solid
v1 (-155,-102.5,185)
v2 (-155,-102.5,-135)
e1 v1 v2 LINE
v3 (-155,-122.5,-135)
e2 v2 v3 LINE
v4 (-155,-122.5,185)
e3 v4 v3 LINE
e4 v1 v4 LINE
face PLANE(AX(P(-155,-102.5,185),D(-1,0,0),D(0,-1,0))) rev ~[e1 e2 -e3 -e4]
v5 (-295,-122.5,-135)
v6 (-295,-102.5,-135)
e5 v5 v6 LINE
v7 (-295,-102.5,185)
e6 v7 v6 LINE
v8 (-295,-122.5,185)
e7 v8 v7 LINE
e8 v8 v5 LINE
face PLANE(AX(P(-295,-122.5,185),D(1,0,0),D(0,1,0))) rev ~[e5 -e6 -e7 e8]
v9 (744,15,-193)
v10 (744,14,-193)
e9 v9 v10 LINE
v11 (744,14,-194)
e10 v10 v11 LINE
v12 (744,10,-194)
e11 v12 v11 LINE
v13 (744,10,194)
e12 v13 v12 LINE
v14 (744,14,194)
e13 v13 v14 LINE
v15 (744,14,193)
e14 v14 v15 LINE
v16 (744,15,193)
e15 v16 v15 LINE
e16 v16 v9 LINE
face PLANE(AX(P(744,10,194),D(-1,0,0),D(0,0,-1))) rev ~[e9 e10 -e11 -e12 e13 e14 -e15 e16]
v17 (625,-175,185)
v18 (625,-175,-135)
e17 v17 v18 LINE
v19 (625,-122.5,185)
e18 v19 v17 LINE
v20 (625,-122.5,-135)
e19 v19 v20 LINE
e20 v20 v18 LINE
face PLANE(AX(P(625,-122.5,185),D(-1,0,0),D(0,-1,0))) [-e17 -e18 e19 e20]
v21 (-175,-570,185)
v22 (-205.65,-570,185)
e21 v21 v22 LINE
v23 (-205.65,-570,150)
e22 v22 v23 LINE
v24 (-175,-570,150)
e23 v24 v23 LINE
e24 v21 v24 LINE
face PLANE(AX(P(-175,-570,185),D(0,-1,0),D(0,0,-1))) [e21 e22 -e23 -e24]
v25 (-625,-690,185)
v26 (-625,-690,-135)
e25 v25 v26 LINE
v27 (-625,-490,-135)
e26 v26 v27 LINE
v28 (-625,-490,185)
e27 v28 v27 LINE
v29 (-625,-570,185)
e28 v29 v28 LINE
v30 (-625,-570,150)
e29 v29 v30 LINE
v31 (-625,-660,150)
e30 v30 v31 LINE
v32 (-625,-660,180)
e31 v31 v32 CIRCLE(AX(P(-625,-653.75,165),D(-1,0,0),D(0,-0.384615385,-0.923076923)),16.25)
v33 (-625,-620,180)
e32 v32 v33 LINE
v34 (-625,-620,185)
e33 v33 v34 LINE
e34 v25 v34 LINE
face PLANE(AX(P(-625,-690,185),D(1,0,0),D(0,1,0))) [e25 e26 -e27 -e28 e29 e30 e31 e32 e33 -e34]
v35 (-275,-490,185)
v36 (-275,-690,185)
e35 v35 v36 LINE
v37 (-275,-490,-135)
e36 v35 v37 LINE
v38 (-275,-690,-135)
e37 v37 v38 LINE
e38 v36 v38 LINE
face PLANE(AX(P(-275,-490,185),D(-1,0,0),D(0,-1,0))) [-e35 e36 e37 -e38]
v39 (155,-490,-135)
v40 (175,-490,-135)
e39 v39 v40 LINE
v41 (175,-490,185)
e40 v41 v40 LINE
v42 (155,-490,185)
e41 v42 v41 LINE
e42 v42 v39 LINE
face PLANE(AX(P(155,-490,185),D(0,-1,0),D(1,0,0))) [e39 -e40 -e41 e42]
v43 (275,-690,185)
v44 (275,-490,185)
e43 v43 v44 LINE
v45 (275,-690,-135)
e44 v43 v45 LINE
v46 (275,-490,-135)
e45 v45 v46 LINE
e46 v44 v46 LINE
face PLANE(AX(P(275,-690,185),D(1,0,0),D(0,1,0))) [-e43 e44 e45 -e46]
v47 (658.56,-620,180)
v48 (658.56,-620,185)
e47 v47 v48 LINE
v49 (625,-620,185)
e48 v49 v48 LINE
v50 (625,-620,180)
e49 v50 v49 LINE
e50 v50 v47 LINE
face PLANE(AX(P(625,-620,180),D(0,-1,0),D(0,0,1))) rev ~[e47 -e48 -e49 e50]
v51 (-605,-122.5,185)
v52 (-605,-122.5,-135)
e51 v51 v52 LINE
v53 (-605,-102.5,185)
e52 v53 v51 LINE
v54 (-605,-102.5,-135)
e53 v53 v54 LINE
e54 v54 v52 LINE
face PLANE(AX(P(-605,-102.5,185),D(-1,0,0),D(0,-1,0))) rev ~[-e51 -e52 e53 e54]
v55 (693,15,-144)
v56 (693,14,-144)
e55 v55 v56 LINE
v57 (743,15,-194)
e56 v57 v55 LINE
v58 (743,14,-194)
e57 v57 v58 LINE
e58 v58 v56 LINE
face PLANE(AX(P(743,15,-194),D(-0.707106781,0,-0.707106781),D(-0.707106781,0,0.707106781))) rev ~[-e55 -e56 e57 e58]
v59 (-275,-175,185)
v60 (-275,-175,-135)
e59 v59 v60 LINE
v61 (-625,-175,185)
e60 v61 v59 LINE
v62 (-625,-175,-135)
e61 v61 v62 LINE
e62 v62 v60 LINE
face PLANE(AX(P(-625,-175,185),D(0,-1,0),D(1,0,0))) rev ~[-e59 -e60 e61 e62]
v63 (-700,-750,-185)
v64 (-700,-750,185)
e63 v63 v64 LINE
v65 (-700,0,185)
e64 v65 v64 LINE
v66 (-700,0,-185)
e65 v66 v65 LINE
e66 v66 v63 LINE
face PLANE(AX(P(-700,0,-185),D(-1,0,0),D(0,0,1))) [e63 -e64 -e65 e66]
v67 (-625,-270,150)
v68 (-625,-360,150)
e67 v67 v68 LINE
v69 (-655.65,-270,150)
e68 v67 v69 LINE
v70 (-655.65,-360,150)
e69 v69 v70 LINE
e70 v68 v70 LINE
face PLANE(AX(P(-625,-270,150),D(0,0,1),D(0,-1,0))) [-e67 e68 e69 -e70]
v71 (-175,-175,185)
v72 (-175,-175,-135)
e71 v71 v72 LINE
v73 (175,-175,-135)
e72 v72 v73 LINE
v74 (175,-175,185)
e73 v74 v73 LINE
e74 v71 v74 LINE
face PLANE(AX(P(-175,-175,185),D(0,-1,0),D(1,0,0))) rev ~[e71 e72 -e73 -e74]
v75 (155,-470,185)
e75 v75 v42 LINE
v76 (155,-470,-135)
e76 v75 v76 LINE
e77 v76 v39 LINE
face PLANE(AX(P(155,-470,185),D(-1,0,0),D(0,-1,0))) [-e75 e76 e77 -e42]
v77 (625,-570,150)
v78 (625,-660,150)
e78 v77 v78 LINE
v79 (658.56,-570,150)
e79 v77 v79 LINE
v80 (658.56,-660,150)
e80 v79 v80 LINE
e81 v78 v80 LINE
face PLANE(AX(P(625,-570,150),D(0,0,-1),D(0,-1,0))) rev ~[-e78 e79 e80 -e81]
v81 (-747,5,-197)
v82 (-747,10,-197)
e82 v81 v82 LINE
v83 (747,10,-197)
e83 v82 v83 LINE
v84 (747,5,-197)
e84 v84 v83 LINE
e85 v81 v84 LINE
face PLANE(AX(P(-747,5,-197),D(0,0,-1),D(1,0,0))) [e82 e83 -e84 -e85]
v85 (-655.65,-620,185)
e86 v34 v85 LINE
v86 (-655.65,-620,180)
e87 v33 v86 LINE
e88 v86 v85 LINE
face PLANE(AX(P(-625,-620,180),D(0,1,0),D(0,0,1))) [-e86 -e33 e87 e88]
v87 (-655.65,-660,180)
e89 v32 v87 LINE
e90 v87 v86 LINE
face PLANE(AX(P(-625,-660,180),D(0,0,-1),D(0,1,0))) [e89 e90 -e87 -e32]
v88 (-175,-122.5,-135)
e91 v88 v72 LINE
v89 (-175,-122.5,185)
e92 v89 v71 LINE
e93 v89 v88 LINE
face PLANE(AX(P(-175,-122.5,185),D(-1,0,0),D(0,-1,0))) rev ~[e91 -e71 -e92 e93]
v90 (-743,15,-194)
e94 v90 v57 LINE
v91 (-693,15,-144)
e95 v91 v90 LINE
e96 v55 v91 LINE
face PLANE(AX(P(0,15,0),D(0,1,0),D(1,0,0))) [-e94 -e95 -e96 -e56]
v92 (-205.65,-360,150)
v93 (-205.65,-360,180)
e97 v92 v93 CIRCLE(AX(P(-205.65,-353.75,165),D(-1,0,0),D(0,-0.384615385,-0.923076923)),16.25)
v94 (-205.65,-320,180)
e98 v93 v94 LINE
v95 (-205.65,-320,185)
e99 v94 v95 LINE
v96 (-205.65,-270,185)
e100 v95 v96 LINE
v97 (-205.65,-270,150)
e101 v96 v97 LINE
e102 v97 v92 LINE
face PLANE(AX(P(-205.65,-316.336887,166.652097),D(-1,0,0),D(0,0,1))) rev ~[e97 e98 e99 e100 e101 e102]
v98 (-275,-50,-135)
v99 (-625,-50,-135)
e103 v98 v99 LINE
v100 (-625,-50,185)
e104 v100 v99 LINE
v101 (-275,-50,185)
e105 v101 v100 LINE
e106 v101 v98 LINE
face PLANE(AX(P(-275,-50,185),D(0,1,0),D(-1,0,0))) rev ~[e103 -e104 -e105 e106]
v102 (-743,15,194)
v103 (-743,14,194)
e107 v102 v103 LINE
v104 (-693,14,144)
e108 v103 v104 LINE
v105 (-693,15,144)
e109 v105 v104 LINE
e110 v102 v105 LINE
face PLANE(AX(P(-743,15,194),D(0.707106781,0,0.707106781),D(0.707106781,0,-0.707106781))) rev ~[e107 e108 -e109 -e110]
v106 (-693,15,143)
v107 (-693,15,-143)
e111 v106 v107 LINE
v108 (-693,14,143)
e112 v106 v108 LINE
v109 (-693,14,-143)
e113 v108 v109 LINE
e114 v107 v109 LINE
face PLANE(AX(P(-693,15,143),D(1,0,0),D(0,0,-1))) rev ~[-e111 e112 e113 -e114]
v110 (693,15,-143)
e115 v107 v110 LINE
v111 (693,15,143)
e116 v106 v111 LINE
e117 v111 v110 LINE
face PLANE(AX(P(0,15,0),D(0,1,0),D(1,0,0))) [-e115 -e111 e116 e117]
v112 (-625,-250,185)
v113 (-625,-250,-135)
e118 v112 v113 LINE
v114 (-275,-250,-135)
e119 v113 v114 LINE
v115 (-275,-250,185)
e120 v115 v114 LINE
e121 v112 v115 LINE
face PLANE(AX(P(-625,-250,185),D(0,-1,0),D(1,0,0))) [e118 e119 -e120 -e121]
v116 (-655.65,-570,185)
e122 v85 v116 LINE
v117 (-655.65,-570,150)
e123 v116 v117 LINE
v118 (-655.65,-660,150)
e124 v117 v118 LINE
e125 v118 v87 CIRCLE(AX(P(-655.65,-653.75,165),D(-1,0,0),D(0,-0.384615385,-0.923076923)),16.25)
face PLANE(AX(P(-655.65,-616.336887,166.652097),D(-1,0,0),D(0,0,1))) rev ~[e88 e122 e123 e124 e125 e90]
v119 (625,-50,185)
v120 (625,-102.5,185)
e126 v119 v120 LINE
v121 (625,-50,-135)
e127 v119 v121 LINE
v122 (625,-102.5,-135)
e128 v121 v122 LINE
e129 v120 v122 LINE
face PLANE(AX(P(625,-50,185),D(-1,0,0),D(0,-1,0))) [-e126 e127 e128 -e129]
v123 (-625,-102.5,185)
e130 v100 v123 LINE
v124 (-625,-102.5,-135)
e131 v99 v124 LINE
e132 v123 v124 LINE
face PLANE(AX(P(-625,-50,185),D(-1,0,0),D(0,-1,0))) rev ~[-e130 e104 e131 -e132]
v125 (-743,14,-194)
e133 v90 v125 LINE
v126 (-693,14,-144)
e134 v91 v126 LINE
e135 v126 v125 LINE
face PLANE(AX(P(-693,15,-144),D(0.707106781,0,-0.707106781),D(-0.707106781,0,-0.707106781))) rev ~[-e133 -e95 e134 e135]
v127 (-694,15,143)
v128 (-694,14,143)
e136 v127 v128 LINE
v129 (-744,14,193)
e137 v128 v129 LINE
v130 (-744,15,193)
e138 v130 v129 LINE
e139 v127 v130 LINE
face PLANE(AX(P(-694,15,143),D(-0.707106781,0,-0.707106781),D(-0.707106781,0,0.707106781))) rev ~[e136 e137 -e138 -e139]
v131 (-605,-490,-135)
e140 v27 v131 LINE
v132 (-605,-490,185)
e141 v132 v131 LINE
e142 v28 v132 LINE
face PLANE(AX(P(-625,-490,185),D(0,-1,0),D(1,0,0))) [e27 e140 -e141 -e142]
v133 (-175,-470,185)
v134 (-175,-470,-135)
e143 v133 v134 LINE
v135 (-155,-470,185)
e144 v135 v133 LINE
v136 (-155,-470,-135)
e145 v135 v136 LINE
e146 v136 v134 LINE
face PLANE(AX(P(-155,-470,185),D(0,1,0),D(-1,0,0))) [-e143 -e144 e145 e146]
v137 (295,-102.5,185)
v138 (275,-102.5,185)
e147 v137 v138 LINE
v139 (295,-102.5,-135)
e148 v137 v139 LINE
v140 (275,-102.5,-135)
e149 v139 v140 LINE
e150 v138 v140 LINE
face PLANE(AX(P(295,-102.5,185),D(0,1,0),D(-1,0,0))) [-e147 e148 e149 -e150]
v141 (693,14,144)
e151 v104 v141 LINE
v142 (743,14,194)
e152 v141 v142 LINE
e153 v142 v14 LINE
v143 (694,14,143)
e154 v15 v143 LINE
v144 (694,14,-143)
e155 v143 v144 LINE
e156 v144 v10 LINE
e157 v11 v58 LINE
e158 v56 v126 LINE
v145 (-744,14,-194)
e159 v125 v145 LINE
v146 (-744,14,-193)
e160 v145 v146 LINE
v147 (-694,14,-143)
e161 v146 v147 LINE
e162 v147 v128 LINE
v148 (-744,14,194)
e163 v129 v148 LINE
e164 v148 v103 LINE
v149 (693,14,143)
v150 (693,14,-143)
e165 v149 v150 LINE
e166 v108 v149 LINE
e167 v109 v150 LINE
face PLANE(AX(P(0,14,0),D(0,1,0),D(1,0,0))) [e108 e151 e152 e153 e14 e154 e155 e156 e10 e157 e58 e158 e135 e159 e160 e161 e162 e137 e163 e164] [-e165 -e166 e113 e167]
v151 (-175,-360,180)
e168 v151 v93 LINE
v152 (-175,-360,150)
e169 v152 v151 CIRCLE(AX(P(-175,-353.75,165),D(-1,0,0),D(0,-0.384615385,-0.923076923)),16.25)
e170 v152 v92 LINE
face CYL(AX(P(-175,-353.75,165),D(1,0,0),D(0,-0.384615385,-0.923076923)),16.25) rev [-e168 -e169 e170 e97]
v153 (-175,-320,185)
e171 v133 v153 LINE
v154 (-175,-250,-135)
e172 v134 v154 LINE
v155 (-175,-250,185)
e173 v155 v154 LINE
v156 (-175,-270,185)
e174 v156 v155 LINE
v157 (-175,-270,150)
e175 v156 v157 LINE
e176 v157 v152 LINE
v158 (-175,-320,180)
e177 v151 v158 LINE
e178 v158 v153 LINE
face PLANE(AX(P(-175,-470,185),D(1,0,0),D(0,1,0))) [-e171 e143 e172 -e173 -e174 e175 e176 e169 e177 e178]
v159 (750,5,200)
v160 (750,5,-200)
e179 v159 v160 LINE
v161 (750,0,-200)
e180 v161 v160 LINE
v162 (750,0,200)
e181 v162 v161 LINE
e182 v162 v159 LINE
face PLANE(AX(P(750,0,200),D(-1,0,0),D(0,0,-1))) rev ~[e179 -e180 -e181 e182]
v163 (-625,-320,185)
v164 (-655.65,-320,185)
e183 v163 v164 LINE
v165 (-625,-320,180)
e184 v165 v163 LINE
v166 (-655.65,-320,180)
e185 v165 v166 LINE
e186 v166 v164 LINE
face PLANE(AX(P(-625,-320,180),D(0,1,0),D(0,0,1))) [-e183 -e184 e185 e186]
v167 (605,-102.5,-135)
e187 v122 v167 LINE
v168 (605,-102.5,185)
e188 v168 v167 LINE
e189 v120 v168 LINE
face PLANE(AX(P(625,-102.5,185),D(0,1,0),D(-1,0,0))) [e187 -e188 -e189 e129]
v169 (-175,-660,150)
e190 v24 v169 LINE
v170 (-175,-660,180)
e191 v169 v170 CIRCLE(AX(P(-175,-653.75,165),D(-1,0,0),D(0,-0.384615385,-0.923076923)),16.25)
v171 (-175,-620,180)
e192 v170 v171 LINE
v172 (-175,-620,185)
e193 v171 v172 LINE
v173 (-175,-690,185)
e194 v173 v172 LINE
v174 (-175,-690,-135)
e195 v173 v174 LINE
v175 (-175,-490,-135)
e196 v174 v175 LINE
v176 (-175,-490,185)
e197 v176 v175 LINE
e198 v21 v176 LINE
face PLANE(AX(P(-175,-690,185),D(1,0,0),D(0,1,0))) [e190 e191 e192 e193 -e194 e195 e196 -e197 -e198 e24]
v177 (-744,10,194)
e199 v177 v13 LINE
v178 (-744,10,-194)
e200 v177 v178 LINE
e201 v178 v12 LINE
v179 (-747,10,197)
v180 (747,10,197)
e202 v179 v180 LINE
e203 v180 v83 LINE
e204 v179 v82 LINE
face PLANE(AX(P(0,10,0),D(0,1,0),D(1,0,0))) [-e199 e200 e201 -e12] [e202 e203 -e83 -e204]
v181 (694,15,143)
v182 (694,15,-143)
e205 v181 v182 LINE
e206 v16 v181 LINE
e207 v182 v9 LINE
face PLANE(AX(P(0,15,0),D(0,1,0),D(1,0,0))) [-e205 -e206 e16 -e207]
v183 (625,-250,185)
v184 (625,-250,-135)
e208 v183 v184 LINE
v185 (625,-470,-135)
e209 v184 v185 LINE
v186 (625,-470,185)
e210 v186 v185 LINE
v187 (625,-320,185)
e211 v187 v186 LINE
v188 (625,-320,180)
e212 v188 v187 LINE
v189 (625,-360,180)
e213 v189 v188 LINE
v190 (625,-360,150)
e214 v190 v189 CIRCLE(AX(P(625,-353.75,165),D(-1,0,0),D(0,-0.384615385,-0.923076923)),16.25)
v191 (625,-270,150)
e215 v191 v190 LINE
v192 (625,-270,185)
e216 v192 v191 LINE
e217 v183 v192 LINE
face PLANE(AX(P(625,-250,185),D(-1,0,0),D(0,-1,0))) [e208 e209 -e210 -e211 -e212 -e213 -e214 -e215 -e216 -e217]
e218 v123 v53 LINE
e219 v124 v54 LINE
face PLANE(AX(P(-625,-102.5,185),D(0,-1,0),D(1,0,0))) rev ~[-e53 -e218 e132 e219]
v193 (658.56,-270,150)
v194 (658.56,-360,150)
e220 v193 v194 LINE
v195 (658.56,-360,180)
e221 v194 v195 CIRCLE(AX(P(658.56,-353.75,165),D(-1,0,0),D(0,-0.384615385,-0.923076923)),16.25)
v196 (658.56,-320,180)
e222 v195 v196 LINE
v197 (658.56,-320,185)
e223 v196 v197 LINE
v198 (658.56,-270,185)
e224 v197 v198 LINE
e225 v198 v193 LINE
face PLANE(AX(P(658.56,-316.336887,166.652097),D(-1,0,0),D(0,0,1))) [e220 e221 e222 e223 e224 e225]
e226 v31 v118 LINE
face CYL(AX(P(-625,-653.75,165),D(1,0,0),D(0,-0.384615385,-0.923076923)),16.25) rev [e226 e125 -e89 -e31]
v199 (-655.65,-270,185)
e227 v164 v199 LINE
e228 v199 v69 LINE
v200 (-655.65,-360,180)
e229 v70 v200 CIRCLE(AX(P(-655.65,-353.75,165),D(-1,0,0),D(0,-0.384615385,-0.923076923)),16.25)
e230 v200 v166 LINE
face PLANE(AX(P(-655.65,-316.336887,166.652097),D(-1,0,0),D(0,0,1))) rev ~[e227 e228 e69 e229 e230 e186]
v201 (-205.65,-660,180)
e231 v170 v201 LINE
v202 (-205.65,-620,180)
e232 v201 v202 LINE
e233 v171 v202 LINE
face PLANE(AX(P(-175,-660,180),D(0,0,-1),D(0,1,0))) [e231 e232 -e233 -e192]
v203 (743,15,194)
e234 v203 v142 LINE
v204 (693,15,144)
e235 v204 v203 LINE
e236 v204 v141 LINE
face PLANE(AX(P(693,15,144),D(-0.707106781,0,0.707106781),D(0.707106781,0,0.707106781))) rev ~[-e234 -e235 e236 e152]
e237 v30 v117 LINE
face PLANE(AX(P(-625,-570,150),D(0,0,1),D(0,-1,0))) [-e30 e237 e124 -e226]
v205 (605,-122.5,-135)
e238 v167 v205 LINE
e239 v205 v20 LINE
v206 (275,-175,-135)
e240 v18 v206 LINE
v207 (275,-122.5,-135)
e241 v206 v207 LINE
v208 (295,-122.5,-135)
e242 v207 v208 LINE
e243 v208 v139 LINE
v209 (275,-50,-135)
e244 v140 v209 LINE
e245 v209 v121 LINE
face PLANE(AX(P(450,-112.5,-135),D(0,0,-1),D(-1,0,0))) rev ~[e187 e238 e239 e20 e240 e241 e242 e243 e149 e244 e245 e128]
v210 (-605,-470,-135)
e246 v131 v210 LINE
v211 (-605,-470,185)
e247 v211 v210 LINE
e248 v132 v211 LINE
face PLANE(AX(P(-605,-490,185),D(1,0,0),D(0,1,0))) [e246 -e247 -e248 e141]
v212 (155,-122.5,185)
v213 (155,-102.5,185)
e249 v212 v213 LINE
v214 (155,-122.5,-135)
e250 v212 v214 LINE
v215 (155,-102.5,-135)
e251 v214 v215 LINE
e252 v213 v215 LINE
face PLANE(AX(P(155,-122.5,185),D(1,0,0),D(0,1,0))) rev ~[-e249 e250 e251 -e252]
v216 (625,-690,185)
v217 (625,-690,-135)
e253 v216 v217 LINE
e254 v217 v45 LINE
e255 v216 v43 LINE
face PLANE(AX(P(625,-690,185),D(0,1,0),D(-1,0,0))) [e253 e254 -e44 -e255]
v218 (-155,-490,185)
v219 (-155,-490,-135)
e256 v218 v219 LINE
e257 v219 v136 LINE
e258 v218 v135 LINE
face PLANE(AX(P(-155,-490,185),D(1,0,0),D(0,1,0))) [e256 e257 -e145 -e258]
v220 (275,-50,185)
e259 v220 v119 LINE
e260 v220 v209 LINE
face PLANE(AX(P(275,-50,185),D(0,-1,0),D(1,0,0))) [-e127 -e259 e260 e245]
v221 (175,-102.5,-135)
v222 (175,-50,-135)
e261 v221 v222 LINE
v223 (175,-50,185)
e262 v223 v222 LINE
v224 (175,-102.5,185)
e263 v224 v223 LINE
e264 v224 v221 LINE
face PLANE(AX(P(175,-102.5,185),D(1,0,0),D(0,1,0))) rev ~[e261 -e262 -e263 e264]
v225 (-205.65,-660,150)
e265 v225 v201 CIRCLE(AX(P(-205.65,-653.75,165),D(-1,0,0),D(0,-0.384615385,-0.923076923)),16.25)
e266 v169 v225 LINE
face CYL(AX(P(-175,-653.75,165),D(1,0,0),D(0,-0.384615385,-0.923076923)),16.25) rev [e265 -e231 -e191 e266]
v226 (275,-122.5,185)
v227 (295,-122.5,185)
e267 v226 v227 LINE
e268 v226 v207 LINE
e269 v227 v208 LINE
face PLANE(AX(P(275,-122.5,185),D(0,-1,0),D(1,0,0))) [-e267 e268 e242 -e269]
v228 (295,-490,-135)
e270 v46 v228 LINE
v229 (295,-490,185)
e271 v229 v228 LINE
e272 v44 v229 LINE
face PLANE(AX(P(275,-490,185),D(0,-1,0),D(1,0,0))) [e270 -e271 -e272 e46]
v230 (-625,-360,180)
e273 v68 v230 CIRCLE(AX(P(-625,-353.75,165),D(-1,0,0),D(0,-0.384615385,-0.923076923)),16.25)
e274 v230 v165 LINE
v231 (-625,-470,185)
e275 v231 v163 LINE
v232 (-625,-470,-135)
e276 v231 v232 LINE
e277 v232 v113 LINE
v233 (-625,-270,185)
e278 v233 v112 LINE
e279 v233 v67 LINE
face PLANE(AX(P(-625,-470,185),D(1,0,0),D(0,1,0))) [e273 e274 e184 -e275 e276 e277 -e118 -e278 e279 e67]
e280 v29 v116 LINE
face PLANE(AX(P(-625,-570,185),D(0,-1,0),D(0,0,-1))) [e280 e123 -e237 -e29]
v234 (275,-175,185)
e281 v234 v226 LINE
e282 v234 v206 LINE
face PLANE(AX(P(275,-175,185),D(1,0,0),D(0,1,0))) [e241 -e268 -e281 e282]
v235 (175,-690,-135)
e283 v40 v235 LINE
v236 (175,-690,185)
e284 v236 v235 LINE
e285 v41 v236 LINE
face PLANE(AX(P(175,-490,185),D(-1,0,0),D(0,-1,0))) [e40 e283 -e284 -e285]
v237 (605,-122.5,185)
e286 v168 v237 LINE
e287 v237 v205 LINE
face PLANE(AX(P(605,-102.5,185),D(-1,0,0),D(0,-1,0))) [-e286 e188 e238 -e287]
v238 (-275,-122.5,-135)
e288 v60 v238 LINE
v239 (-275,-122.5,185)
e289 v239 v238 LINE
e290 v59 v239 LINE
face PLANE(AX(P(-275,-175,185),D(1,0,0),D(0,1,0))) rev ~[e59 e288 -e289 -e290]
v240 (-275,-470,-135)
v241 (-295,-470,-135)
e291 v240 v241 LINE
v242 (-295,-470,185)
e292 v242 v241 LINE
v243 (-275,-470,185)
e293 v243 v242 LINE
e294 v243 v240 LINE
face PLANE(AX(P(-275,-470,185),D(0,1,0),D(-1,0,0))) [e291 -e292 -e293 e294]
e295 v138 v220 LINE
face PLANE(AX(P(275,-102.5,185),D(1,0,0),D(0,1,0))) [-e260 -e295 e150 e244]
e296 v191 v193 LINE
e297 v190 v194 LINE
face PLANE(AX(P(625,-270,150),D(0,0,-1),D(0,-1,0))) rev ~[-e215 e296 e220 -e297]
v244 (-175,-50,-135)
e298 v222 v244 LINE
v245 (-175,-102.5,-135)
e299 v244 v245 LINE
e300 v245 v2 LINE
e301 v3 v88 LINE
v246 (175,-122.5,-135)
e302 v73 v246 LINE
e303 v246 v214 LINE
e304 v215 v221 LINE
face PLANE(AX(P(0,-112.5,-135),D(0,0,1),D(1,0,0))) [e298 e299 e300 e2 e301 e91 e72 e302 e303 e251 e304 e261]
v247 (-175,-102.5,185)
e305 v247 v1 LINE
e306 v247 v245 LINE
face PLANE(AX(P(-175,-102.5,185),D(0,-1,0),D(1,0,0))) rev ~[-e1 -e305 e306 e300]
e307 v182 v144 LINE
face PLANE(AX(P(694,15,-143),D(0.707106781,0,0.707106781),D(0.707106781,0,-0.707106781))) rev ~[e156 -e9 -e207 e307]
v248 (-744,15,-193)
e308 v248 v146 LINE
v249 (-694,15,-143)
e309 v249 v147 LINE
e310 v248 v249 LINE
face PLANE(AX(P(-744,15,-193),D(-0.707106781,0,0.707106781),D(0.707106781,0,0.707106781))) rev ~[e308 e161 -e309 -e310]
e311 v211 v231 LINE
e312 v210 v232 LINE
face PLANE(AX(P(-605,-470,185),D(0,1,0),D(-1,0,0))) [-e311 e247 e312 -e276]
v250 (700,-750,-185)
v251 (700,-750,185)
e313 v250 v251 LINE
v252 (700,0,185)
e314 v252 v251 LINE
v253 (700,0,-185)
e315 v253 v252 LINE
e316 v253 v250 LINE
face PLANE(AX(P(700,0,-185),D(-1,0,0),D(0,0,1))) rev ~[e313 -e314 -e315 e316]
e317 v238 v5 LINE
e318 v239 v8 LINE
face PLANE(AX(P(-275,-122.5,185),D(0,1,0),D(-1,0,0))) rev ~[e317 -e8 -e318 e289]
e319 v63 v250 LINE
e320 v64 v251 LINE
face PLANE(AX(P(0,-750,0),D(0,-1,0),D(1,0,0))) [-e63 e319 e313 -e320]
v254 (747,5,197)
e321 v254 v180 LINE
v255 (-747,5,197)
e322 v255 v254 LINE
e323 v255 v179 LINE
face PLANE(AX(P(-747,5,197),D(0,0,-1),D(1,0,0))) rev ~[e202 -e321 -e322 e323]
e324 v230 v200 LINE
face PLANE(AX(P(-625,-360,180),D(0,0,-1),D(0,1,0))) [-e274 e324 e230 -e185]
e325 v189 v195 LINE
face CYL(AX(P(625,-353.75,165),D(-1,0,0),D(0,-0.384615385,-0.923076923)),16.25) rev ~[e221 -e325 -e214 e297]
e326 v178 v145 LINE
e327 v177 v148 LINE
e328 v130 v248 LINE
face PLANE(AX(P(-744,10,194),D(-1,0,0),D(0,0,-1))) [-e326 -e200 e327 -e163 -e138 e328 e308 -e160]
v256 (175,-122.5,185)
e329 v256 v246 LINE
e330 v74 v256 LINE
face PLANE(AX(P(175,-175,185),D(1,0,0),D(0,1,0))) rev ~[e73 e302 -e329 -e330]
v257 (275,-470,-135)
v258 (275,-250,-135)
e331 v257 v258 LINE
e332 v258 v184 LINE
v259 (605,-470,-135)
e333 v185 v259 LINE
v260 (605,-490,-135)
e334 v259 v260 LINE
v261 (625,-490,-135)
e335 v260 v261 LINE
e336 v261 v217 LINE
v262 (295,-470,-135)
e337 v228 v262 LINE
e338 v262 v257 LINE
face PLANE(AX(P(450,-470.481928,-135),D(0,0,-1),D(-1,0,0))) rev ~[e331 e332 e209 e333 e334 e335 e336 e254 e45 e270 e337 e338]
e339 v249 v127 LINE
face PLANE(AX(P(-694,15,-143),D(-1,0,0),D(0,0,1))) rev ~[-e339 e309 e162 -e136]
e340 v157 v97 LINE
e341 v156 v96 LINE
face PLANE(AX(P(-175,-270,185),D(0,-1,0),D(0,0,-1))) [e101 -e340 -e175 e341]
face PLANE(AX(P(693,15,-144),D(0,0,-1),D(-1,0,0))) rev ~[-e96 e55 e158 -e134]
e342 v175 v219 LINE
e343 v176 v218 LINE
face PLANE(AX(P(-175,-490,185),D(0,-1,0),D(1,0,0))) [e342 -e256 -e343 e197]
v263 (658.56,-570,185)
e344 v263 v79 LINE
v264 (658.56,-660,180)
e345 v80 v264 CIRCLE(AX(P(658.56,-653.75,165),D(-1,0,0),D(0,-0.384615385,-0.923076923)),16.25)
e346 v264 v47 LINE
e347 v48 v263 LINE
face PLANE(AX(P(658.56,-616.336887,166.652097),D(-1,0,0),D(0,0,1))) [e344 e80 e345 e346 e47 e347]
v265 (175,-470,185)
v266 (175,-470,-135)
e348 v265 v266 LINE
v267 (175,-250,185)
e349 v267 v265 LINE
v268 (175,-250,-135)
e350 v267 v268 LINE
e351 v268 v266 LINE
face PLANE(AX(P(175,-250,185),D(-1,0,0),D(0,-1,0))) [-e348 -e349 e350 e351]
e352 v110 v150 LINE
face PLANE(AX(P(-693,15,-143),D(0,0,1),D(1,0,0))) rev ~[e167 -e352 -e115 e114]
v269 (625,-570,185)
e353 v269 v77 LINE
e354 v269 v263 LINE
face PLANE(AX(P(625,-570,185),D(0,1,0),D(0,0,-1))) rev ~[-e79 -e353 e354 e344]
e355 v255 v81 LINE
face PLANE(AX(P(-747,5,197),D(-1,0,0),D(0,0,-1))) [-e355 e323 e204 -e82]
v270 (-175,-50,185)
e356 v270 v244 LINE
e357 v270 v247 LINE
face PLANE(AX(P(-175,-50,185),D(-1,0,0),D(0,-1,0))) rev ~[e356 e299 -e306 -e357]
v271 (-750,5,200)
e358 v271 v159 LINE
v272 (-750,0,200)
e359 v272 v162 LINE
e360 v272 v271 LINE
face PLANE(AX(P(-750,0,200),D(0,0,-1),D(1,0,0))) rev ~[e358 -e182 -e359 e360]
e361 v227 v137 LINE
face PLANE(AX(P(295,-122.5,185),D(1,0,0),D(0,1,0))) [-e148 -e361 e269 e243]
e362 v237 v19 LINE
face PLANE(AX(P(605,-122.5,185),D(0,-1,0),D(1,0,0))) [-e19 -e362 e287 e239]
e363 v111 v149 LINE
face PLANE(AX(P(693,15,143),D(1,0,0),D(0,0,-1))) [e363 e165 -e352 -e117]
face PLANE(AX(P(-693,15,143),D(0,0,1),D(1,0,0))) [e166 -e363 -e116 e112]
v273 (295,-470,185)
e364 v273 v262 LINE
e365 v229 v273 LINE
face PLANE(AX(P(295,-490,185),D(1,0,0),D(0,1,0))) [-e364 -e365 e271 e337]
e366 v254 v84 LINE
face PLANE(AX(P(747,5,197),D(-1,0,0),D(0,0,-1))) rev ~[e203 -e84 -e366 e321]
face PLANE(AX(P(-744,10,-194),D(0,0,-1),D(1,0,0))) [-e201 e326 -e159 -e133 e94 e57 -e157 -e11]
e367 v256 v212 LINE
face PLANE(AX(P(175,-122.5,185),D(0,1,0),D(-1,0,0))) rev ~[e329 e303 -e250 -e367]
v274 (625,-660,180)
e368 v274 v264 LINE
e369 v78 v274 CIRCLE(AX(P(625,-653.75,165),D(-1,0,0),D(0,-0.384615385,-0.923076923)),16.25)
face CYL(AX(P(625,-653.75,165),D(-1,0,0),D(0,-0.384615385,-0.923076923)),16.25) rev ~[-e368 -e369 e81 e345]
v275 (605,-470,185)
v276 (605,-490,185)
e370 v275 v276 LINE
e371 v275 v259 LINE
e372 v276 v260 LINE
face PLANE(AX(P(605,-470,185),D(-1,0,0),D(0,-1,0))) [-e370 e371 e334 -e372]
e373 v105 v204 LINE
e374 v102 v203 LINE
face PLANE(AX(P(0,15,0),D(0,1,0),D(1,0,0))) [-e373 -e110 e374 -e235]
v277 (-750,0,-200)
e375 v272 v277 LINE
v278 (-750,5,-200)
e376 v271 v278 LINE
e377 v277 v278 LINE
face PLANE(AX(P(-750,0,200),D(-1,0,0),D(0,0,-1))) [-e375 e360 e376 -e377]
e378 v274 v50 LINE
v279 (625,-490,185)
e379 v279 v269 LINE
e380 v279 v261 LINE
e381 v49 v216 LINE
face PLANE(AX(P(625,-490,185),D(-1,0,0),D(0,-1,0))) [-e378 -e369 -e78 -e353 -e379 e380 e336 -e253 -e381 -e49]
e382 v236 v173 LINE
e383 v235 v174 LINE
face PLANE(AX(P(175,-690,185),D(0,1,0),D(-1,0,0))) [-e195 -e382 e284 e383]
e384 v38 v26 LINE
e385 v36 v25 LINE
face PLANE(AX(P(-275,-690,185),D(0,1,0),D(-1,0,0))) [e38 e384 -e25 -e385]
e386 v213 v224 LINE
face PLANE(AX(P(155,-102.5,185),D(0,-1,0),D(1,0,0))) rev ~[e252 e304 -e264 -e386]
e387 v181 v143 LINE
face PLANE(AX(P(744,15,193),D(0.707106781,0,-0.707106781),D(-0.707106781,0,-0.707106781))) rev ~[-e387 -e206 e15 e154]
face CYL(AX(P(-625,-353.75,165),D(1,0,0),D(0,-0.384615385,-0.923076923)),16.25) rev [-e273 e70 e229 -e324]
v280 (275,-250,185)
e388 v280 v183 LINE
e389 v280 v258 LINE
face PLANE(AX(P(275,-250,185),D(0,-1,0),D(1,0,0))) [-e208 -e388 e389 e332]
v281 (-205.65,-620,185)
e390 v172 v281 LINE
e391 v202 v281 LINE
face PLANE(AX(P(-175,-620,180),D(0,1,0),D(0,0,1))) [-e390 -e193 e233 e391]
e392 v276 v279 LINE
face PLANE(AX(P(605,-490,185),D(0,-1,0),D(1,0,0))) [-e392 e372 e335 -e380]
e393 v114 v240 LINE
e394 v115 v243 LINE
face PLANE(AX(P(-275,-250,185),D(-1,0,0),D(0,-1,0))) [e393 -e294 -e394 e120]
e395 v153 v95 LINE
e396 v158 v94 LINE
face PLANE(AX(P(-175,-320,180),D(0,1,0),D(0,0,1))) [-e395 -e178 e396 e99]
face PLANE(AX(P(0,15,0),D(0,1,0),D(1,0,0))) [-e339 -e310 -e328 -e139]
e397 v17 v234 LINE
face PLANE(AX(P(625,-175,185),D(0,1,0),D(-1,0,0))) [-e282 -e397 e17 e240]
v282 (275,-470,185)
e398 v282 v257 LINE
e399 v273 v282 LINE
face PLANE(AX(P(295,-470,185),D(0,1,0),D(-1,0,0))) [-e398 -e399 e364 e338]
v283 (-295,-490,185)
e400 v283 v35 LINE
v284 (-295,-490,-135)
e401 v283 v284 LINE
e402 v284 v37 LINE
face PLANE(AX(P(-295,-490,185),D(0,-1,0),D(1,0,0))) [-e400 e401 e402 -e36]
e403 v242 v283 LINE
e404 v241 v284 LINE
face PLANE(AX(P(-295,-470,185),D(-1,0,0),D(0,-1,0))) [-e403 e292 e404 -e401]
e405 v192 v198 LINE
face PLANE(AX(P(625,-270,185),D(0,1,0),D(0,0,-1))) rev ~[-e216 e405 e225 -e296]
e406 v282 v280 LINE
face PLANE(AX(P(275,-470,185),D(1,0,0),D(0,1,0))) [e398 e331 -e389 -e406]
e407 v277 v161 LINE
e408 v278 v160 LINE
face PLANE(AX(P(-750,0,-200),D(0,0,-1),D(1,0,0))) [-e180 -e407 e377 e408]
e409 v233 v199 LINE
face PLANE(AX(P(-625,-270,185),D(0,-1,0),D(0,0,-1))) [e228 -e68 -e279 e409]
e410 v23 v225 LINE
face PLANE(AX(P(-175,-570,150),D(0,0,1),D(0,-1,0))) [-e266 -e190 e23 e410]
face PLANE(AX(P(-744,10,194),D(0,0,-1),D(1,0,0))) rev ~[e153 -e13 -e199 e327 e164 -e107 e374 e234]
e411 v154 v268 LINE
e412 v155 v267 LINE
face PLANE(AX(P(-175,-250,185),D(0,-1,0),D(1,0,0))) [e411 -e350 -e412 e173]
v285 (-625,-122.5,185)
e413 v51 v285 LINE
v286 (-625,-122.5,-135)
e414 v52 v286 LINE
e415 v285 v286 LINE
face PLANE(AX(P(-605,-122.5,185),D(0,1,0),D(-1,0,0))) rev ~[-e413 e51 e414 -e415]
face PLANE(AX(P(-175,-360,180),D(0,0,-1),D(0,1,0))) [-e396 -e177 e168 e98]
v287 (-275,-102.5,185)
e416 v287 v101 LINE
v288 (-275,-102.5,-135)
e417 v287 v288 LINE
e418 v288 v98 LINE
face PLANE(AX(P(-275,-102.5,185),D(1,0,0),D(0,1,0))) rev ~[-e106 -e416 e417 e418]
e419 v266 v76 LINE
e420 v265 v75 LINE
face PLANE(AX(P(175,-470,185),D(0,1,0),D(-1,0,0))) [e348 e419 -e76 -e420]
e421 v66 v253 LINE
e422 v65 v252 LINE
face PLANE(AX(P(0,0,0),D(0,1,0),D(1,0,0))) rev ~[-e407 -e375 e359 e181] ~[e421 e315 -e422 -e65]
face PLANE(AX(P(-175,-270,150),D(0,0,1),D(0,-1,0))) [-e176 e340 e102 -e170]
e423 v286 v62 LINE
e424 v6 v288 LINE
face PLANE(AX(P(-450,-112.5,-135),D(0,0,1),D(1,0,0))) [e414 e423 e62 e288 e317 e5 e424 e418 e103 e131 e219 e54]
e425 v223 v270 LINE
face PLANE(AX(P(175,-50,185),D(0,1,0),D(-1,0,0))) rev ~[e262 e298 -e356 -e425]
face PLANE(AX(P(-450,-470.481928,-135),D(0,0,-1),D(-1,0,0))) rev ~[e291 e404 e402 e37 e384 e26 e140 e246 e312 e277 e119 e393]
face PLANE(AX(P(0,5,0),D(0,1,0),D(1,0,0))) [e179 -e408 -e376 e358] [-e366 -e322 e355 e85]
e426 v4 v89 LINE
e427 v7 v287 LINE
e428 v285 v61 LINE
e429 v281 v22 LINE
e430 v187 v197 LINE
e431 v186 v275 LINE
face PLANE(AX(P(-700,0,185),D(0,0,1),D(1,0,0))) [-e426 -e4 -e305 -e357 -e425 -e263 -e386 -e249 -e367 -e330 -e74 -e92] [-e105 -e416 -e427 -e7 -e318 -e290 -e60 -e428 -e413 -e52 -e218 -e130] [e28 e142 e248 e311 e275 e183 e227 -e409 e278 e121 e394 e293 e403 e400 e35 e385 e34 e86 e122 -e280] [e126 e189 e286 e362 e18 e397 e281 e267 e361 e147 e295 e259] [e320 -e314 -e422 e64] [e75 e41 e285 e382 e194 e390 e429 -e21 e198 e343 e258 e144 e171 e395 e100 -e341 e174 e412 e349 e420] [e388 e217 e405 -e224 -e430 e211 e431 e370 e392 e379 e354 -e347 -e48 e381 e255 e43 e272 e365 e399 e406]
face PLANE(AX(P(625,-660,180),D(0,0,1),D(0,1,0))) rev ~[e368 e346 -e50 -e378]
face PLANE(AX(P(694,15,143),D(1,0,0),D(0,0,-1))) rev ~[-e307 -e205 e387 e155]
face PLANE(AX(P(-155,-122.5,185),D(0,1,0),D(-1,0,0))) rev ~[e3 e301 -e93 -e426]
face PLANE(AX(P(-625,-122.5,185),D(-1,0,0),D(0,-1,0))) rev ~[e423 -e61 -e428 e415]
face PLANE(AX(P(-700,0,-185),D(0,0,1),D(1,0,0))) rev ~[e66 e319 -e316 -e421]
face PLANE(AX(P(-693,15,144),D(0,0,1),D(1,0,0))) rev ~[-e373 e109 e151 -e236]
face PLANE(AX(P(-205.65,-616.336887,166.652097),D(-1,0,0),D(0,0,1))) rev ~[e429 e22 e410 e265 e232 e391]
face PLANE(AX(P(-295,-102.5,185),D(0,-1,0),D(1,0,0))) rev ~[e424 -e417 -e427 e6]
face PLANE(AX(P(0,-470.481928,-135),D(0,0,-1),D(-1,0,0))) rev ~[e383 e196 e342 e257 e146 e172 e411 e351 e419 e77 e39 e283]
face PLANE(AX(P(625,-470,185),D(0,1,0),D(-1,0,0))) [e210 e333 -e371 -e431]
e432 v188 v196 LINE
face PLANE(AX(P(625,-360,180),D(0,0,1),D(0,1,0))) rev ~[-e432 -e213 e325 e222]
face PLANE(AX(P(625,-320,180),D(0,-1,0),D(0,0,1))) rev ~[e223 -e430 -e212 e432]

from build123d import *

# Parameters (mm, degrees)
SKETCH1_W           = 1500
SKETCH1_H           = 400
BOSS_EXTRUDE1_DEPTH = 5
SKETCH3_W           = 1494
SKETCH3_H           = 394
BOSS_EXTRUDE3_DEPTH = 5
SKETCH4_W           = 1488
SKETCH4_H           = 388
BOSS_EXTRUDE4_DEPTH = 5
SKETCH6_W           = 1386
SKETCH6_H           = 286
CUT_EXTRUDE1_DEPTH  = 1
SKETCH7_W           = 1400
SKETCH7_H           = 370
BOSS_EXTRUDE5_DEPTH = 750
CUT_EXTRUDE2_DEPTH  = 320
CUT_EXTRUDE3_DEPTH  = 30.65
CUT_EXTRUDE4_DEPTH  = 30.65
CUT_EXTRUDE6_DEPTH  = 33.56


with BuildPart() as part:
    # Sketch1 → Boss-Extrude1 (new body)
    with BuildSketch(Plane(origin=(0, 0, 0), x_dir=(1, 0, 0), z_dir=(0, 1, 0))):
        Rectangle(SKETCH1_W, SKETCH1_H)
    extrude(amount=BOSS_EXTRUDE1_DEPTH)

    # Sketch3 → Boss-Extrude3 (add)
    with BuildSketch(Plane(origin=(0, 5, 0), x_dir=(1, 0, 0), z_dir=(0, 1, 0))):
        Rectangle(SKETCH3_W, SKETCH3_H)
    extrude(amount=BOSS_EXTRUDE3_DEPTH)

    # Sketch4 → Boss-Extrude4 (add)
    with BuildSketch(Plane(origin=(0, 10, 0), x_dir=(1, 0, 0), z_dir=(0, 1, 0))):
        Rectangle(SKETCH4_W, SKETCH4_H)
    extrude(amount=BOSS_EXTRUDE4_DEPTH)

    # Sketch6 → Cut-Extrude1 (cut)
    with BuildSketch(Plane(origin=(0, 15, 0), x_dir=(1, 0, 0), z_dir=(0, 1, 0))):
        Polygon((744, 194), (743, 194), (693, 144), (-693, 144), (-743, 194), (-744, 194), (-744, 193), (-694, 143), (-694, -143), (-744, -193), (-744, -194), (-743, -194), (-693, -144), (693, -144), (743, -194), (744, -194), (744, -193), (694, -143), (694, 143), (744, 193), align=None)
        Rectangle(SKETCH6_W, SKETCH6_H, mode=Mode.SUBTRACT)
    extrude(amount=-CUT_EXTRUDE1_DEPTH, mode=Mode.SUBTRACT)

    # Sketch7 → Boss-Extrude5 (add)
    with BuildSketch(Plane.XZ):
        Rectangle(SKETCH7_W, SKETCH7_H)
    extrude(amount=BOSS_EXTRUDE5_DEPTH)

    # Sketch8 → Cut-Extrude2 (cut)
    with BuildSketch(Plane.XY.offset(185)):
        Polygon((-625, -250), (-275, -250), (-275, -470), (-295, -470), (-295, -490), (-275, -490), (-275, -690), (-625, -690), (-625, -490), (-605, -490), (-605, -470), (-625, -470), align=None)
        Polygon((-175, -250), (175, -250), (175, -470), (155, -470), (155, -490), (175, -490), (175, -690), (-175, -690), (-175, -490), (-155, -490), (-155, -470), (-175, -470), align=None)
        Polygon((275, -250), (625, -250), (625, -470), (605, -470), (605, -490), (625, -490), (625, -690), (275, -690), (275, -490), (295, -490), (295, -470), (275, -470), align=None)
        Polygon((-625, -175), (-275, -175), (-275, -122.5), (-295, -122.5), (-295, -102.5), (-275, -102.5), (-275, -50), (-625, -50), (-625, -102.5), (-605, -102.5), (-605, -122.5), (-625, -122.5), align=None)
        Polygon((-175, -175), (175, -175), (175, -122.5), (155, -122.5), (155, -102.5), (175, -102.5), (175, -50), (-175, -50), (-175, -102.5), (-155, -102.5), (-155, -122.5), (-175, -122.5), align=None)
        Polygon((275, -102.5), (275, -50), (625, -50), (625, -102.5), (605, -102.5), (605, -122.5), (625, -122.5), (625, -175), (275, -175), (275, -122.5), (295, -122.5), (295, -102.5), align=None)
    extrude(amount=-CUT_EXTRUDE2_DEPTH, mode=Mode.SUBTRACT)

    # Sketch9 → Cut-Extrude3 (cut)
    with BuildSketch(Plane(origin=(-625, 0, 0), x_dir=(0, 0, -1), z_dir=(1, 0, 0))):
        with BuildLine():
            Line((-150, -270), (-150, -360))
            ThreePointArc((-150, -360), (-165, -370), (-180, -360))
            Line((-180, -360), (-180, -320))
            Line((-180, -320), (-185, -320))
            Line((-185, -320), (-185, -270))
            Line((-185, -270), (-150, -270))
        make_face()
        with BuildLine():
            Line((-150, -570), (-150, -660))
            ThreePointArc((-150, -660), (-165, -670), (-180, -660))
            Line((-180, -660), (-180, -620))
            Line((-180, -620), (-185, -620))
            Line((-185, -620), (-185, -570))
            Line((-185, -570), (-150, -570))
        make_face()
    extrude(amount=-CUT_EXTRUDE3_DEPTH, mode=Mode.SUBTRACT)

    # Sketch10 → Cut-Extrude4 (cut)
    with BuildSketch(Plane(origin=(-175, 0, 0), x_dir=(0, 0, -1), z_dir=(1, 0, 0))):
        with BuildLine():
            Line((-150, -270), (-150, -360))
            ThreePointArc((-150, -360), (-165, -370), (-180, -360))
            Line((-180, -360), (-180, -320))
            Line((-180, -320), (-185, -320))
            Line((-185, -320), (-185, -270))
            Line((-185, -270), (-150, -270))
        make_face()
        with BuildLine():
            Line((-150, -570), (-150, -660))
            ThreePointArc((-150, -660), (-165, -670), (-180, -660))
            Line((-180, -660), (-180, -620))
            Line((-180, -620), (-185, -620))
            Line((-185, -620), (-185, -570))
            Line((-185, -570), (-150, -570))
        make_face()
    extrude(amount=-CUT_EXTRUDE4_DEPTH, mode=Mode.SUBTRACT)

    # Sketch12 → Cut-Extrude6 (cut)
    with BuildSketch(Plane.ZY.offset(-625)):
        with BuildLine():
            Line((150, -270), (150, -360))
            ThreePointArc((150, -360), (165, -370), (180, -360))
            Line((180, -360), (180, -320))
            Line((180, -320), (185, -320))
            Line((185, -320), (185, -270))
            Line((185, -270), (150, -270))
        make_face()
        with BuildLine():
            Line((150, -570), (150, -660))
            ThreePointArc((150, -660), (165, -670), (180, -660))
            Line((180, -660), (180, -620))
            Line((180, -620), (185, -620))
            Line((185, -620), (185, -570))
            Line((185, -570), (150, -570))
        make_face()
    extrude(amount=-CUT_EXTRUDE6_DEPTH, mode=Mode.SUBTRACT)


solid = part.part
